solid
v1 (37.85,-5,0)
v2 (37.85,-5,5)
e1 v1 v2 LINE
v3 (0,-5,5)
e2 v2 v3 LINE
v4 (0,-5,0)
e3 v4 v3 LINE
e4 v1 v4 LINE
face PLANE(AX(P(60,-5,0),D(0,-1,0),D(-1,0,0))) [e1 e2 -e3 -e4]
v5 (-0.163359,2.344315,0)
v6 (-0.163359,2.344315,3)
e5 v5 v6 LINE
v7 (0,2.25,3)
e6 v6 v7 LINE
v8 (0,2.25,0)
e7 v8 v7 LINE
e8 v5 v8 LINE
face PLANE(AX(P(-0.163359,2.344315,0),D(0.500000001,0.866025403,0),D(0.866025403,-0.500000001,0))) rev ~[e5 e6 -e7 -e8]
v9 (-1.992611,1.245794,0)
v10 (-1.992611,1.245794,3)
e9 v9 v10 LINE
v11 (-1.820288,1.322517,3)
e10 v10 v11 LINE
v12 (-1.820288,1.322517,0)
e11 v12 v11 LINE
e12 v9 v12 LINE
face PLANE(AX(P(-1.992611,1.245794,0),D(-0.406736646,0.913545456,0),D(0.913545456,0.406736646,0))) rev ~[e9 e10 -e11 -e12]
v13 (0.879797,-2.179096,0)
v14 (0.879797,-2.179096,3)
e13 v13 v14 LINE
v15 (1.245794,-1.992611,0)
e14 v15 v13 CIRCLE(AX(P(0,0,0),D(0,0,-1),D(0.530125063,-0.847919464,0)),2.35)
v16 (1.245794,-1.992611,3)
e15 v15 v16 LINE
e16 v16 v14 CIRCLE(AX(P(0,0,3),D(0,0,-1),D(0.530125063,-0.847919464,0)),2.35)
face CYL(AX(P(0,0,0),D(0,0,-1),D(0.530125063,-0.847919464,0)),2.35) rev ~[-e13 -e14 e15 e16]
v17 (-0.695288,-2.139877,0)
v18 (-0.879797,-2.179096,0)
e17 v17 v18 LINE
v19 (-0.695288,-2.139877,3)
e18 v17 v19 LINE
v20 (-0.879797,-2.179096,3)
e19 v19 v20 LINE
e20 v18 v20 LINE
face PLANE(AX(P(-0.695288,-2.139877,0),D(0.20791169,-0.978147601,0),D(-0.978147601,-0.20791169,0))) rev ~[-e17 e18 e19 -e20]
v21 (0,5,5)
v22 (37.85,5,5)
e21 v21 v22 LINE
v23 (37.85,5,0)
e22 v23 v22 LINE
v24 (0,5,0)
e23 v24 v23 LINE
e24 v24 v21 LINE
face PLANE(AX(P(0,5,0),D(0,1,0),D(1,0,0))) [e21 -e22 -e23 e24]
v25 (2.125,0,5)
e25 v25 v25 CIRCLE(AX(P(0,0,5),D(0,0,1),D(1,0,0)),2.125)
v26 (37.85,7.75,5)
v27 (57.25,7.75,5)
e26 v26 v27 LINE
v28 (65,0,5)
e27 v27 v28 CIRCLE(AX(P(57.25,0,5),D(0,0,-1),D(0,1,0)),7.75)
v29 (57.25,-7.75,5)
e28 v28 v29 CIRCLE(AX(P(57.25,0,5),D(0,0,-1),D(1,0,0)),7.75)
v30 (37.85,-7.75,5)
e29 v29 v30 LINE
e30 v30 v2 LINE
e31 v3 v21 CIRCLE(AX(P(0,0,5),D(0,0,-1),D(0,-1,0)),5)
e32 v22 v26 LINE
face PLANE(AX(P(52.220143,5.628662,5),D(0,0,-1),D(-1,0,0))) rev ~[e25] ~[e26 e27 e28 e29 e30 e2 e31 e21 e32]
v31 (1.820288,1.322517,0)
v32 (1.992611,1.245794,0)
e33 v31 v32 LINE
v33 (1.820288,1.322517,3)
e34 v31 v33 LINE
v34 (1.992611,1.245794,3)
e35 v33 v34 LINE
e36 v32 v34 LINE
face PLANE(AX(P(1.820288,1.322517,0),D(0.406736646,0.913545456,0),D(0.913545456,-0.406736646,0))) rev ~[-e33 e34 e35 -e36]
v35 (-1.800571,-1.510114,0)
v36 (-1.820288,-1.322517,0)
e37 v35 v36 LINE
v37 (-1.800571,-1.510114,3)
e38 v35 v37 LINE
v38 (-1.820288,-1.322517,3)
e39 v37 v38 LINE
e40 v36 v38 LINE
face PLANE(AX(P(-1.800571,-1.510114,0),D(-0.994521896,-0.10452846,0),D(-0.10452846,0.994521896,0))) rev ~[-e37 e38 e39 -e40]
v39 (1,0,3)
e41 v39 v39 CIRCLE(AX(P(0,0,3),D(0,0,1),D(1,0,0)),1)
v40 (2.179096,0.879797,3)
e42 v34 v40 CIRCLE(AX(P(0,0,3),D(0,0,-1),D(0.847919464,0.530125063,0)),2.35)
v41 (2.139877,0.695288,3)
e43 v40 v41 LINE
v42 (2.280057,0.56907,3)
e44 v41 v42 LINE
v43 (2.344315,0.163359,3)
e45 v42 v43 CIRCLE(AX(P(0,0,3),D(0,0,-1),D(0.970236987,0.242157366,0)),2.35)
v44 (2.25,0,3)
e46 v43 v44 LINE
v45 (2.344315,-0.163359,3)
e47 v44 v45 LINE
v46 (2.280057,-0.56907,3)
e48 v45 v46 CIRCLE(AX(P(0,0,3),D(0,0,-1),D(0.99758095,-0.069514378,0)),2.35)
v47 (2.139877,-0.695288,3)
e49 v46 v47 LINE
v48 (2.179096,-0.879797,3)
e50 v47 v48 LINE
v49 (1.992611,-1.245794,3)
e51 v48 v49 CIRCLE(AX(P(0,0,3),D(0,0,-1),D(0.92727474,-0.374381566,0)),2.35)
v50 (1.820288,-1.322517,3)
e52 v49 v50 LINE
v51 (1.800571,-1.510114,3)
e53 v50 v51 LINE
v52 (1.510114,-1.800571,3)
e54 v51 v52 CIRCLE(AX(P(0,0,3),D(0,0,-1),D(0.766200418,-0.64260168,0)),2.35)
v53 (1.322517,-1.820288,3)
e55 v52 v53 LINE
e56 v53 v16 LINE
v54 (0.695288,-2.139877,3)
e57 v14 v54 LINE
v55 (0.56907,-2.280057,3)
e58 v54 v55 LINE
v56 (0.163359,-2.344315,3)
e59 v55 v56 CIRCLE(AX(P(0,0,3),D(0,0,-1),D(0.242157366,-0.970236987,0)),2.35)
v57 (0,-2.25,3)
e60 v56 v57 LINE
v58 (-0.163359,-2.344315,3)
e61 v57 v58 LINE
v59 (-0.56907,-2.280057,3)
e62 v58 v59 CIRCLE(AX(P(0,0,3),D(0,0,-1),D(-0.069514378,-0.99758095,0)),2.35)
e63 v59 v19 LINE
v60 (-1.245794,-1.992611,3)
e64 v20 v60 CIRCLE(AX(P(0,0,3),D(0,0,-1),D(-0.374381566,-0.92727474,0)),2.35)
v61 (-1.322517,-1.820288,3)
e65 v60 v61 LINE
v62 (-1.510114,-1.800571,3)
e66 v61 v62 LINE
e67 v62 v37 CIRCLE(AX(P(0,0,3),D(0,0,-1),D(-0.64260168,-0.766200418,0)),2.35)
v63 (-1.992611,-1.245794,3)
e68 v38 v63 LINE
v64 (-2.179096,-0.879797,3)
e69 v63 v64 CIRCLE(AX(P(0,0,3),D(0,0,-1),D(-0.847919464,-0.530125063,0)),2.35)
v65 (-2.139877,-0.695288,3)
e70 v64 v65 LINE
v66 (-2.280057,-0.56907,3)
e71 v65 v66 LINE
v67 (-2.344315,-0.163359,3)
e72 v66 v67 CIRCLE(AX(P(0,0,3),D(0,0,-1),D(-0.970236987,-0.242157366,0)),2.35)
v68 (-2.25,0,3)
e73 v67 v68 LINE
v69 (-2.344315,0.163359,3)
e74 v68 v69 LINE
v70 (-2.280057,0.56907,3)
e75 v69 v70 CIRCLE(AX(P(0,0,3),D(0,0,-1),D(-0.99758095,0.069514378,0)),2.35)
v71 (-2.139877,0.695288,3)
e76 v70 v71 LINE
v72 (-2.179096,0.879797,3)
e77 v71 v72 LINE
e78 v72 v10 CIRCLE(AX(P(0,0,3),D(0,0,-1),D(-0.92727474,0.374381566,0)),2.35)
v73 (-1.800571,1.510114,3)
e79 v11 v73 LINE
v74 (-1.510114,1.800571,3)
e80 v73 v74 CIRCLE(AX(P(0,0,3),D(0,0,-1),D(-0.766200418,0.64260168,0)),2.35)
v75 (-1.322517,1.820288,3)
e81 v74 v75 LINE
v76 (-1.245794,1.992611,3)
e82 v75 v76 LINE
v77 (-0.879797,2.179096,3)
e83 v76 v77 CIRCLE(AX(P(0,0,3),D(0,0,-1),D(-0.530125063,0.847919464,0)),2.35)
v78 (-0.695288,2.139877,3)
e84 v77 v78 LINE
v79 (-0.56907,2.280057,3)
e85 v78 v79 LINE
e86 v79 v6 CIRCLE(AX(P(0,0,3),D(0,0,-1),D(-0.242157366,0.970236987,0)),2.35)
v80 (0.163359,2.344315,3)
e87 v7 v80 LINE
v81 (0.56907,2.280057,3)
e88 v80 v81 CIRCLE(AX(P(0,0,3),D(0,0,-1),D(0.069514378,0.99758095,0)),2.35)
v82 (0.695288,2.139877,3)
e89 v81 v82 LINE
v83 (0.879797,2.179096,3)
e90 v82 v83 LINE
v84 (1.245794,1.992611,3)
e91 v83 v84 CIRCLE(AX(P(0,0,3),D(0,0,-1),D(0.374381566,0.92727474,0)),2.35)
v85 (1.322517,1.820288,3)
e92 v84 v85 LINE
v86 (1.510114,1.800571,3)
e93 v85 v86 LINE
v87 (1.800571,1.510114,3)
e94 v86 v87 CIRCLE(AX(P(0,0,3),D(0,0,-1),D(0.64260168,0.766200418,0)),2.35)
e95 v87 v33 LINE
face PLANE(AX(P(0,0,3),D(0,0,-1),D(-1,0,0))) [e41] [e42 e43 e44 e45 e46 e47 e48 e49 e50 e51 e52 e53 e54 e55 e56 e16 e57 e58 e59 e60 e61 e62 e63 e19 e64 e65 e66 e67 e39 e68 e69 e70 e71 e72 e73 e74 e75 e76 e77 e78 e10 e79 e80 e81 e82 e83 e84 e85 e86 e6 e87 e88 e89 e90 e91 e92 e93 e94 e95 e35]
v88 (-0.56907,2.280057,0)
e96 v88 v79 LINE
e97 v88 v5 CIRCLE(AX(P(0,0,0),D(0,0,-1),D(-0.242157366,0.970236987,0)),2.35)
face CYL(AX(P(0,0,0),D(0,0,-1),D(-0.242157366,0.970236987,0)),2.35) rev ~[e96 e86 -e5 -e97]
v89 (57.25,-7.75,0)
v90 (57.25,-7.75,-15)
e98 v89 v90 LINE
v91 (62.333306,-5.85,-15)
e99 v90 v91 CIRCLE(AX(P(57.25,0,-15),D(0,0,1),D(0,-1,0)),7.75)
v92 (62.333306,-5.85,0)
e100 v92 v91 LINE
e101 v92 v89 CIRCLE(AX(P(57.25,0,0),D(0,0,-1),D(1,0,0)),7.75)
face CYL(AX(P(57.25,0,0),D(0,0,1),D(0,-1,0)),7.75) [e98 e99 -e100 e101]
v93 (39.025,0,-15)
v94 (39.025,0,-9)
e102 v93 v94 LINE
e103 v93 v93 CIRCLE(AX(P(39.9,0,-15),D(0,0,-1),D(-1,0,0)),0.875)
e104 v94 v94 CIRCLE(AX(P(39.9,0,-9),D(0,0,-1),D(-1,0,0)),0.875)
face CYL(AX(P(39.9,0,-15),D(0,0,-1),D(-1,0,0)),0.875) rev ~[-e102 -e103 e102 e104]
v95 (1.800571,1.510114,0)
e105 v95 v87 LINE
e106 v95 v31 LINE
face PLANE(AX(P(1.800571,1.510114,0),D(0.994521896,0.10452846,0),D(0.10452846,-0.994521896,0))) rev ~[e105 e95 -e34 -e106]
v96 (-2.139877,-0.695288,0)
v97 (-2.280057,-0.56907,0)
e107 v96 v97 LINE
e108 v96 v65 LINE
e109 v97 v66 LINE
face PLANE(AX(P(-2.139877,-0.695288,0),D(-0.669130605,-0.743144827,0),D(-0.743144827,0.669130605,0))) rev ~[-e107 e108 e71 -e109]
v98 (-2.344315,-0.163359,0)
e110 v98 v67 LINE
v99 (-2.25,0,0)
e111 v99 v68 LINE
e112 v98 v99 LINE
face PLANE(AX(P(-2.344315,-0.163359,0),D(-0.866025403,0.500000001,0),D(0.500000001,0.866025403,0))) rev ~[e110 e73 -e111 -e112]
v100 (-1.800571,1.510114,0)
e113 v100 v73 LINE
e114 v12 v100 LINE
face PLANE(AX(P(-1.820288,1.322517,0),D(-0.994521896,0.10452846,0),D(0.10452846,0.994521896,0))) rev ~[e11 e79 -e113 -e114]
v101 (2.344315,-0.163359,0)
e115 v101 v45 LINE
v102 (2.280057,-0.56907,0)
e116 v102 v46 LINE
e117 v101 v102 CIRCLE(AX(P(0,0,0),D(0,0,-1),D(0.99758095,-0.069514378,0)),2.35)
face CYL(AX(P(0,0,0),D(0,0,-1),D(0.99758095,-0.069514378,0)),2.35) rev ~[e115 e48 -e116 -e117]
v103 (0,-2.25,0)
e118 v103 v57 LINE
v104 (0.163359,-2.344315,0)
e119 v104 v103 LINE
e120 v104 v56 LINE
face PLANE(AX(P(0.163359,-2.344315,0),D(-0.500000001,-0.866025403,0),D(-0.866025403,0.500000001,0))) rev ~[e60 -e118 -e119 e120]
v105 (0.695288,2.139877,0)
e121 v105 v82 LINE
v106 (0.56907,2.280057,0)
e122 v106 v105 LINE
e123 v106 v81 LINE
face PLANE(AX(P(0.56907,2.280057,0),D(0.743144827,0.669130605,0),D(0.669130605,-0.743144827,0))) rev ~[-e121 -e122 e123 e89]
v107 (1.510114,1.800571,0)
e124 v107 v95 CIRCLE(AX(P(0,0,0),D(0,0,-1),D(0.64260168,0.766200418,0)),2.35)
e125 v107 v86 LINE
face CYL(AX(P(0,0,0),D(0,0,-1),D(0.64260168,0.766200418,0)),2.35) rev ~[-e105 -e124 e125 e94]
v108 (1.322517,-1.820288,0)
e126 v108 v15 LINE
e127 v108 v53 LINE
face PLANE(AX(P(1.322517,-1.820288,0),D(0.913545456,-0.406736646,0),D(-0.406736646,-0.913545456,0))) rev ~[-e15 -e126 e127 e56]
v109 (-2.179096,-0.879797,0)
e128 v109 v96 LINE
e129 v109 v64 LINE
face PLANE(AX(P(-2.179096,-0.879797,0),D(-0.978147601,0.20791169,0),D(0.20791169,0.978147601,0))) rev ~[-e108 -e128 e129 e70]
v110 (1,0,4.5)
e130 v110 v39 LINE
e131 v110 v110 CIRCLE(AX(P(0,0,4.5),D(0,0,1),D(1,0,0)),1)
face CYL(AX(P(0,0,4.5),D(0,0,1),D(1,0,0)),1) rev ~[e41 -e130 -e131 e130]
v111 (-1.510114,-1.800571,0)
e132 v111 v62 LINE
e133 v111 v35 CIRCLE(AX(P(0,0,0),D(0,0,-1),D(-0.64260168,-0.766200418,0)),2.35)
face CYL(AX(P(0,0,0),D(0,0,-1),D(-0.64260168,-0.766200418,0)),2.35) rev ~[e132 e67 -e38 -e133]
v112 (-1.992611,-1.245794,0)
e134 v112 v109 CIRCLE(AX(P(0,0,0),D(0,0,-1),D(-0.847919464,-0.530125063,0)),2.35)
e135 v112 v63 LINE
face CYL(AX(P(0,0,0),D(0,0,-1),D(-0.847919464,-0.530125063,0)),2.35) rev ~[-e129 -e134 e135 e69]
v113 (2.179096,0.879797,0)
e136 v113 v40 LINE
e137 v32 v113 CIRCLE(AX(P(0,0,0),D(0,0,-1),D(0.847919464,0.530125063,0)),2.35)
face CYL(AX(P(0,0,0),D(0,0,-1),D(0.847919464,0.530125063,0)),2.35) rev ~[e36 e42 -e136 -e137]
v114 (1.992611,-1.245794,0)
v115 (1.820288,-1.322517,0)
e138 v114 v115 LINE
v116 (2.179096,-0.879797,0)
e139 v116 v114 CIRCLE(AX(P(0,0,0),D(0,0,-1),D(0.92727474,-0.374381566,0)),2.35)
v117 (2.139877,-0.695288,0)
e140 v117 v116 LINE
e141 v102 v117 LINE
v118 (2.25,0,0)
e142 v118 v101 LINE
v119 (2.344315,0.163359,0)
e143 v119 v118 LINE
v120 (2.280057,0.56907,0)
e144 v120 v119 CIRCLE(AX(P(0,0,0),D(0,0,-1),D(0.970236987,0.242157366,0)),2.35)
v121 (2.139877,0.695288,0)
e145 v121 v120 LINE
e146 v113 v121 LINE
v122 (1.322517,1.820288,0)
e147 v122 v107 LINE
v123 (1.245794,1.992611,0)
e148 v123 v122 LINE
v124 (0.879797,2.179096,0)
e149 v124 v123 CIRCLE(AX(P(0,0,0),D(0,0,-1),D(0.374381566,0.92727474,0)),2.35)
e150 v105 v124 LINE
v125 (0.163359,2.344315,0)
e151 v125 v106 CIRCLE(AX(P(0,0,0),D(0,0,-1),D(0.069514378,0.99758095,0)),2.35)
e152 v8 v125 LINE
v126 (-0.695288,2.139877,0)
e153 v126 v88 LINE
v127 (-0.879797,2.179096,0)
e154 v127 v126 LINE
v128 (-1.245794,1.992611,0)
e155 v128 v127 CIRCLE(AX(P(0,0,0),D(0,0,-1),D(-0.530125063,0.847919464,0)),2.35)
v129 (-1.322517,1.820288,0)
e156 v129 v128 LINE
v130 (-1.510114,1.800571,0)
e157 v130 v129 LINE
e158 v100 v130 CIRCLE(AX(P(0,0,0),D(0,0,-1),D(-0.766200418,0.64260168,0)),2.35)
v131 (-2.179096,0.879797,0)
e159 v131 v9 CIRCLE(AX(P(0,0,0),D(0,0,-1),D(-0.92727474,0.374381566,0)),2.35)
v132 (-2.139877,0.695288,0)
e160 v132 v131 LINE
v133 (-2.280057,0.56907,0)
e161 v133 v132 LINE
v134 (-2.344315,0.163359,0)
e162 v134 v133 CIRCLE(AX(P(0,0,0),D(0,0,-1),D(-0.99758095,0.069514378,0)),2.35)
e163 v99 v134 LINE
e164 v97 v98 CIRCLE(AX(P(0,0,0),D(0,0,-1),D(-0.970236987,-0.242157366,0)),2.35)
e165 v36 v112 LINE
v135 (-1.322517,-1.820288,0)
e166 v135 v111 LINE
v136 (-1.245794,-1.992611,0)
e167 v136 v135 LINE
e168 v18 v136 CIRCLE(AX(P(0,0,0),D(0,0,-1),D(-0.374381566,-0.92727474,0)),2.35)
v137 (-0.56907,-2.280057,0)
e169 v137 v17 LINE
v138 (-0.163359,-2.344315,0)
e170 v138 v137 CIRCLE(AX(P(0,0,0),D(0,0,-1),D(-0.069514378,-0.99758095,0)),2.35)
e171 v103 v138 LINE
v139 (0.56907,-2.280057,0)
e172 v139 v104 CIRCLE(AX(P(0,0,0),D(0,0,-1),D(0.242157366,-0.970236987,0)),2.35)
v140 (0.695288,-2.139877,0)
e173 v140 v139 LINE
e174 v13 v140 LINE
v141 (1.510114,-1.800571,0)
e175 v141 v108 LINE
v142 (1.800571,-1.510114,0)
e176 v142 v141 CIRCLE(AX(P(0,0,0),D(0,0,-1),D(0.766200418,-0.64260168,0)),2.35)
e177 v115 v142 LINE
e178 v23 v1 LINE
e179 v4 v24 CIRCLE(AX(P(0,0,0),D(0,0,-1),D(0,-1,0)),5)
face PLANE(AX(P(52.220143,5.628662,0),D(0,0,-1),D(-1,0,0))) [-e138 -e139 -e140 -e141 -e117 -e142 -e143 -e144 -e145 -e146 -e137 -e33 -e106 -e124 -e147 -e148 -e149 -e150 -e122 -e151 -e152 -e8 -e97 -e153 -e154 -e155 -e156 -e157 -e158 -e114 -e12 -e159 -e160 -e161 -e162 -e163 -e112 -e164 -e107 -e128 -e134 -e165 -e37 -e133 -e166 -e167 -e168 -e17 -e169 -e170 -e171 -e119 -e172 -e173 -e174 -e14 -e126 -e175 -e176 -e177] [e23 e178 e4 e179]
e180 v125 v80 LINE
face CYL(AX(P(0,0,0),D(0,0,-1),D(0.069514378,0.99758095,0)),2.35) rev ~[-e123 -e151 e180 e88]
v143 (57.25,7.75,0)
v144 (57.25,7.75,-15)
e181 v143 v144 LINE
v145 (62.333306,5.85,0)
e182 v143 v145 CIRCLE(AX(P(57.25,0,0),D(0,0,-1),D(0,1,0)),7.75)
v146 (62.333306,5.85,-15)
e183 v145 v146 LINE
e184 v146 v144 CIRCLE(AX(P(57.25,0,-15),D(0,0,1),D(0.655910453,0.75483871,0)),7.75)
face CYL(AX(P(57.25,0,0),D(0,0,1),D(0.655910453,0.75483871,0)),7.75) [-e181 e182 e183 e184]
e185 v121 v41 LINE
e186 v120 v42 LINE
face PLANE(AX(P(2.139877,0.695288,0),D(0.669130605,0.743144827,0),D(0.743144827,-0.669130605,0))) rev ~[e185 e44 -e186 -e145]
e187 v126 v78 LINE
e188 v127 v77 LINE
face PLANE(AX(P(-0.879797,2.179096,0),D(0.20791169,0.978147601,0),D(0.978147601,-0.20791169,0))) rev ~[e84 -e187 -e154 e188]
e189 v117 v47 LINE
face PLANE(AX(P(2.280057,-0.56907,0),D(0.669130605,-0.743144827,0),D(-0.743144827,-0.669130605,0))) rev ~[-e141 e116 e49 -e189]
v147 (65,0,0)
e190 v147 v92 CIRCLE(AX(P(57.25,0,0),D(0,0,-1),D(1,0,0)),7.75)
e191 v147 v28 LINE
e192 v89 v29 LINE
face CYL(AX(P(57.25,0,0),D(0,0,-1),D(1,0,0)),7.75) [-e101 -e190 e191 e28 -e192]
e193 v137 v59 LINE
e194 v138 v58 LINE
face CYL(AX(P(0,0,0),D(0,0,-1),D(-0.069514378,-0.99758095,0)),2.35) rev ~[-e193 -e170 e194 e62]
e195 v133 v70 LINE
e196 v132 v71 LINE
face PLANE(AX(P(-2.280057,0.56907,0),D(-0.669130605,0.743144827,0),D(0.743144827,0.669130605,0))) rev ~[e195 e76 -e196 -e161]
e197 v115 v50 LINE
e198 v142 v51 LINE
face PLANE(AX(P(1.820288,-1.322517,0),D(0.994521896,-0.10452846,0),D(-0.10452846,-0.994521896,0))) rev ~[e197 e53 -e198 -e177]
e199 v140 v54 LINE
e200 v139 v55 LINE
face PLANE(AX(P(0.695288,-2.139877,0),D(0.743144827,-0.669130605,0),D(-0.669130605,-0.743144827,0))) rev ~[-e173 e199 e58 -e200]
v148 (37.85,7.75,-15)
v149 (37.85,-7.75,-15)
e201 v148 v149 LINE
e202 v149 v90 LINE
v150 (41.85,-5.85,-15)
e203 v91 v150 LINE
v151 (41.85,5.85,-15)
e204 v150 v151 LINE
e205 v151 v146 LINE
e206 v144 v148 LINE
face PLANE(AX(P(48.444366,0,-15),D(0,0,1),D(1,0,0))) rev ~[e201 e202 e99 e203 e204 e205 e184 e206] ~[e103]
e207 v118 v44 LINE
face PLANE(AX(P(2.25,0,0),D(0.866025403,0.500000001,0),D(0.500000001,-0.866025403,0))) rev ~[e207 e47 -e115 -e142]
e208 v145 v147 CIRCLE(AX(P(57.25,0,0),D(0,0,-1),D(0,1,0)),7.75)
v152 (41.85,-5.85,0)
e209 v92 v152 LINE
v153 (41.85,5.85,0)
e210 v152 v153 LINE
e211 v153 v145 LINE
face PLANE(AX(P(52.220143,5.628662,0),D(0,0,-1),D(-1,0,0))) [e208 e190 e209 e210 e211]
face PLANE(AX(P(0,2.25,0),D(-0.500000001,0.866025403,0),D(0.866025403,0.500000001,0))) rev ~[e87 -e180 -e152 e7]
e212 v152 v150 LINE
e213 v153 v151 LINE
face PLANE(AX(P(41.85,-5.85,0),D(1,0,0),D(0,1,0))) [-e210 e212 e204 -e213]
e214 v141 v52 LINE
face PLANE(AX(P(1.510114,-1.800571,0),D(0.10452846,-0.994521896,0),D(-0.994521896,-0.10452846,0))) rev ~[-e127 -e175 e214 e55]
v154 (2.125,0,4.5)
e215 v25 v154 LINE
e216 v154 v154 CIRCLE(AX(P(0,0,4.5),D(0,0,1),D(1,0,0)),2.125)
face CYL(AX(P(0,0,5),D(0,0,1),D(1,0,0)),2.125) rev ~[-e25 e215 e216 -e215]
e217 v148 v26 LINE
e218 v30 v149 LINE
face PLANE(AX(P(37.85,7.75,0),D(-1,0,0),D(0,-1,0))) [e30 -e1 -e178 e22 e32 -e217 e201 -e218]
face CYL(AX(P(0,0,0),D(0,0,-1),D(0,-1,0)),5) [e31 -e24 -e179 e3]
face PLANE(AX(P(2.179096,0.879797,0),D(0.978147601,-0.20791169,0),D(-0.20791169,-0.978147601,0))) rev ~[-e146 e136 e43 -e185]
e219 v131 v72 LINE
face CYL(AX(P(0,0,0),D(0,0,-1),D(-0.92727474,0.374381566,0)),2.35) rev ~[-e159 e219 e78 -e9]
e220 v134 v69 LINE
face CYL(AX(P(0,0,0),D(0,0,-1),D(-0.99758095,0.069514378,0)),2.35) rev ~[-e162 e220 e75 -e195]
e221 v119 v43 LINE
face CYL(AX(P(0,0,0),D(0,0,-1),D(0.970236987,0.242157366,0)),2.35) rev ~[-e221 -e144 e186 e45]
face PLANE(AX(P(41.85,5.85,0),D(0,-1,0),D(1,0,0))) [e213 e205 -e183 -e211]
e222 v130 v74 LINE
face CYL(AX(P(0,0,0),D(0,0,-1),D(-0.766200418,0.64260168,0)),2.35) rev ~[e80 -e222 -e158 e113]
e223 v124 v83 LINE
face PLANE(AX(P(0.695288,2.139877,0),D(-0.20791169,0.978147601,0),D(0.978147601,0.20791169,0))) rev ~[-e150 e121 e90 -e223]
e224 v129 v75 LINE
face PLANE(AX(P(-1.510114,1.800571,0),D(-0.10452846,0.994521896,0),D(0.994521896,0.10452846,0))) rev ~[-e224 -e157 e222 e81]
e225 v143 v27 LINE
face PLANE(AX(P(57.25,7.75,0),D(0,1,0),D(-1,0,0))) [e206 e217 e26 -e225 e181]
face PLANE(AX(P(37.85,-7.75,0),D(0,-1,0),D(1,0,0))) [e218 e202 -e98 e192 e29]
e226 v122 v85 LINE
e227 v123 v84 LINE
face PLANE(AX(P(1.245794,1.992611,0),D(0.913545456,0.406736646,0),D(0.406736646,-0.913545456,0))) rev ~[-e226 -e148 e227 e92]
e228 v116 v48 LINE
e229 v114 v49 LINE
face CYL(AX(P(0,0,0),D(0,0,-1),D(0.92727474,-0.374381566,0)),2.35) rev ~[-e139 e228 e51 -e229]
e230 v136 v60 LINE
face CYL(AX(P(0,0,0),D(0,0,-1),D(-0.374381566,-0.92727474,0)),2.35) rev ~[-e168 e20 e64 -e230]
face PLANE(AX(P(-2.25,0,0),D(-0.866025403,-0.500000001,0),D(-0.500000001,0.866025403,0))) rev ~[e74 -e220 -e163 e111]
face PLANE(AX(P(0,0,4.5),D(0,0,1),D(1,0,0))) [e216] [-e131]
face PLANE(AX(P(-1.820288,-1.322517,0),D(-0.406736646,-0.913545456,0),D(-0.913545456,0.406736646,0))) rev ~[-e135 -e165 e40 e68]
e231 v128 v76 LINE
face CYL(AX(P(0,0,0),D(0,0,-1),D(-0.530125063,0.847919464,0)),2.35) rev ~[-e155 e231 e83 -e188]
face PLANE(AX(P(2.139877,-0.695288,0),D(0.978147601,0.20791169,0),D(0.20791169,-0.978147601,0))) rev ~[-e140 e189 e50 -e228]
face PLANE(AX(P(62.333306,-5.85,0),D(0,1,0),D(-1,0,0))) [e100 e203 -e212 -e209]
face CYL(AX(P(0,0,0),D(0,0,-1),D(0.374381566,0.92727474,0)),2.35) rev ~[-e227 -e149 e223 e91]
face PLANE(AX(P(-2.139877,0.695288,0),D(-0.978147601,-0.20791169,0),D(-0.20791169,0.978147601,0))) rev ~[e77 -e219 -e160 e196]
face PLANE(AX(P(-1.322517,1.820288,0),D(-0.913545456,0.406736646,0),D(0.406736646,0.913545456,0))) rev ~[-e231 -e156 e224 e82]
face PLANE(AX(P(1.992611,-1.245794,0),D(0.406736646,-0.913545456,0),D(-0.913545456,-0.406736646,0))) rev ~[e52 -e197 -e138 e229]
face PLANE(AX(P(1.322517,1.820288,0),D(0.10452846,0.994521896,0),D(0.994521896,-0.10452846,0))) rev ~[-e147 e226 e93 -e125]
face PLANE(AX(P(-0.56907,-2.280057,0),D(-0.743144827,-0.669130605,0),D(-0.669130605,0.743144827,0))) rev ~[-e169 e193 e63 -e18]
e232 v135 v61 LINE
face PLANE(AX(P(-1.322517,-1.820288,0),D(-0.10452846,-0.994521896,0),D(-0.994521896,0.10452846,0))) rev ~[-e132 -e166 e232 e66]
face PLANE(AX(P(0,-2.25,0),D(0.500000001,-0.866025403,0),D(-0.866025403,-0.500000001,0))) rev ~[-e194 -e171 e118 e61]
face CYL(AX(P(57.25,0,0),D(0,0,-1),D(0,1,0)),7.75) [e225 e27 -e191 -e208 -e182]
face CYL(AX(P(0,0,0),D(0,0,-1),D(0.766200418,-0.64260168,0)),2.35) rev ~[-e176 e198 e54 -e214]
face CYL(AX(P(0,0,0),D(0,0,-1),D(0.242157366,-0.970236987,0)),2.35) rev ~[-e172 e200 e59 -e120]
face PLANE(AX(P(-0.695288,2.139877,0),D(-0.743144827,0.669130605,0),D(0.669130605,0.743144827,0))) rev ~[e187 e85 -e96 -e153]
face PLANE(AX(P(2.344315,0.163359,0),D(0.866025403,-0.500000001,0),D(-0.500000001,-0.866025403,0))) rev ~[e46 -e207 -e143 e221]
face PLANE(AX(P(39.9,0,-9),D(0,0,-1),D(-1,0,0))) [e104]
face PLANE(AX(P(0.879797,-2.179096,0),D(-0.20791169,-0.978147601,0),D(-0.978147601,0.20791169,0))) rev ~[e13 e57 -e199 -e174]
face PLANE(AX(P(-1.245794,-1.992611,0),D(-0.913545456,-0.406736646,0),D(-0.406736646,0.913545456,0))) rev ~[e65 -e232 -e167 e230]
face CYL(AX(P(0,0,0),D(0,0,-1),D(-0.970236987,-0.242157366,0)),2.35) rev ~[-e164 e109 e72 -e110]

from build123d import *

# Parameters (mm, degrees)
BOSS_EXTRUDE1_DEPTH = 5
CUT_EXTRUDE1_DEPTH  = 3
SKETCH3_R           = 2.125
CUT_EXTRUDE2_DEPTH  = 0.5
SKETCH4_R           = 1
CUT_EXTRUDE3_DEPTH  = 5.5
BOSS_EXTRUDE2_DEPTH = 5
BOSS_EXTRUDE3_DEPTH = 15
SKETCH10_R          = 0.875
CUT_EXTRUDE6_DEPTH  = 6


with BuildPart() as part:
    # Sketch1 → Boss-Extrude1 (new body)
    with BuildSketch(Plane.XY):
        with BuildLine():
            Line((0, 5), (60, 5))
            ThreePointArc((60, 5), (65, 0), (60, -5))
            Line((60, -5), (0, -5))
            ThreePointArc((0, -5), (-5, 0), (0, 5))
        make_face()
    extrude(amount=BOSS_EXTRUDE1_DEPTH)

    # Sketch2 → Cut-Extrude1 (cut)
    with BuildSketch(Plane(origin=(0, 0, 0), x_dir=(-1, 0, 0), z_dir=(0, 0, -1))):
        with BuildLine():
            Line((2.344315233, -0.163358775), (2.25, 0))
            Line((2.25, 0), (2.344315233, 0.163358775))
            ThreePointArc((2.344315233, 0.163358775), (2.3210676, 0.367620993), (2.280056916, 0.56906982))
            Line((2.280056916, 0.56906982), (2.139877162, 0.695288237))
            Line((2.139877162, 0.695288237), (2.179095641, 0.879796675))
            ThreePointArc((2.179095641, 0.879796675), (2.093865332, 1.066877674), (1.992610742, 1.245793895))
            Line((1.992610742, 1.245793895), (1.820288237, 1.322516818))
            Line((1.820288237, 1.322516818), (1.800570985, 1.510113946))
            ThreePointArc((1.800570985, 1.510113946), (1.661700936, 1.661700936), (1.510113946, 1.800570985))
            Line((1.510113946, 1.800570985), (1.322516818, 1.820288237))
            Line((1.322516818, 1.820288237), (1.245793895, 1.992610742))
            ThreePointArc((1.245793895, 1.992610742), (1.066877674, 2.093865332), (0.879796675, 2.179095641))
            Line((0.879796675, 2.179095641), (0.695288237, 2.139877162))
            Line((0.695288237, 2.139877162), (0.56906982, 2.280056916))
            ThreePointArc((0.56906982, 2.280056916), (0.367620993, 2.3210676), (0.163358775, 2.344315233))
            Line((0.163358775, 2.344315233), (0, 2.25))
            Line((0, 2.25), (-0.163358775, 2.344315233))
            ThreePointArc((-0.163358775, 2.344315233), (-0.367620993, 2.3210676), (-0.56906982, 2.280056916))
            Line((-0.56906982, 2.280056916), (-0.695288237, 2.139877162))
            Line((-0.695288237, 2.139877162), (-0.879796675, 2.179095641))
            ThreePointArc((-0.879796675, 2.179095641), (-1.066877674, 2.093865332), (-1.245793895, 1.992610742))
            Line((-1.245793895, 1.992610742), (-1.322516818, 1.820288237))
            Line((-1.322516818, 1.820288237), (-1.510113946, 1.800570985))
            ThreePointArc((-1.510113946, 1.800570985), (-1.661700936, 1.661700936), (-1.800570985, 1.510113946))
            Line((-1.800570985, 1.510113946), (-1.820288237, 1.322516818))
            Line((-1.820288237, 1.322516818), (-1.992610742, 1.245793895))
            ThreePointArc((-1.992610742, 1.245793895), (-2.093865332, 1.066877674), (-2.179095641, 0.879796675))
            Line((-2.179095641, 0.879796675), (-2.139877162, 0.695288237))
            Line((-2.139877162, 0.695288237), (-2.280056916, 0.56906982))
            ThreePointArc((-2.280056916, 0.56906982), (-2.3210676, 0.367620993), (-2.344315233, 0.163358775))
            Line((-2.344315233, 0.163358775), (-2.25, 0))
            Line((-2.25, 0), (-2.344315233, -0.163358775))
            ThreePointArc((-2.344315233, -0.163358775), (-2.3210676, -0.367620993), (-2.280056916, -0.56906982))
            Line((-2.280056916, -0.56906982), (-2.139877162, -0.695288237))
            Line((-2.139877162, -0.695288237), (-2.179095641, -0.879796675))
            ThreePointArc((-2.179095641, -0.879796675), (-2.093865332, -1.066877674), (-1.992610742, -1.245793895))
            Line((-1.992610742, -1.245793895), (-1.820288237, -1.322516818))
            Line((-1.820288237, -1.322516818), (-1.800570985, -1.510113946))
            ThreePointArc((-1.800570985, -1.510113946), (-1.661700936, -1.661700936), (-1.510113946, -1.800570985))
            Line((-1.510113946, -1.800570985), (-1.322516818, -1.820288237))
            Line((-1.322516818, -1.820288237), (-1.245793895, -1.992610742))
            ThreePointArc((-1.245793895, -1.992610742), (-1.066877674, -2.093865332), (-0.879796675, -2.179095641))
            Line((-0.879796675, -2.179095641), (-0.695288237, -2.139877162))
            Line((-0.695288237, -2.139877162), (-0.56906982, -2.280056916))
            ThreePointArc((-0.56906982, -2.280056916), (-0.367620993, -2.3210676), (-0.163358775, -2.344315233))
            Line((-0.163358775, -2.344315233), (0, -2.25))
            Line((0, -2.25), (0.163358775, -2.344315233))
            ThreePointArc((0.163358775, -2.344315233), (0.367620993, -2.3210676), (0.56906982, -2.280056916))
            Line((0.56906982, -2.280056916), (0.695288237, -2.139877162))
            Line((0.695288237, -2.139877162), (0.879796675, -2.179095641))
            ThreePointArc((0.879796675, -2.179095641), (1.066877674, -2.093865332), (1.245793895, -1.992610742))
            Line((1.245793895, -1.992610742), (1.322516818, -1.820288237))
            Line((1.322516818, -1.820288237), (1.510113946, -1.800570985))
            ThreePointArc((1.510113946, -1.800570985), (1.661700936, -1.661700936), (1.800570985, -1.510113946))
            Line((1.800570985, -1.510113946), (1.820288237, -1.322516818))
            Line((1.820288237, -1.322516818), (1.992610742, -1.245793895))
            ThreePointArc((1.992610742, -1.245793895), (2.093865332, -1.066877674), (2.179095641, -0.879796675))
            Line((2.179095641, -0.879796675), (2.139877162, -0.695288237))
            Line((2.139877162, -0.695288237), (2.280056916, -0.56906982))
            ThreePointArc((2.280056916, -0.56906982), (2.3210676, -0.367620993), (2.344315233, -0.163358775))
        make_face()
    extrude(amount=-CUT_EXTRUDE1_DEPTH, mode=Mode.SUBTRACT)

    # Sketch3 → Cut-Extrude2 (cut)
    with BuildSketch(Plane.XY.offset(5)):
        Circle(SKETCH3_R)
    extrude(amount=-CUT_EXTRUDE2_DEPTH, mode=Mode.SUBTRACT)

    # Sketch4 → Cut-Extrude3 (cut, through all)
    with BuildSketch(Plane.XY.offset(4.5)):
        Circle(SKETCH4_R)
    extrude(amount=-CUT_EXTRUDE3_DEPTH, mode=Mode.SUBTRACT)

    # Sketch5 → Boss-Extrude2 (add)
    with BuildSketch(Plane(origin=(0, 0, 0), x_dir=(-1, 0, 0), z_dir=(0, 0, -1))):
        with BuildLine():
            Line((-60, 5), (-37.85, 5))
            Line((-37.85, 5), (-37.85, 7.75))
            Line((-37.85, 7.75), (-57.25, 7.75))
            ThreePointArc((-57.25, 7.75), (-62.730077554, 5.480077554), (-65, 0))
            ThreePointArc((-65, 0), (-63.535533906, 3.535533906), (-60, 5))
        make_face()
        with BuildLine():
            ThreePointArc((-60, -5), (-63.535533906, -3.535533906), (-65, 0))
            ThreePointArc((-65, 0), (-62.730077554, -5.480077554), (-57.25, -7.75))
            Line((-57.25, -7.75), (-37.85, -7.75))
            Line((-37.85, -7.75), (-37.85, -5))
            Line((-37.85, -5), (-60, -5))
        make_face()
    extrude(amount=-BOSS_EXTRUDE2_DEPTH)

    # Sketch6 → Boss-Extrude3 (add)
    with BuildSketch(Plane(origin=(0, 0, 0), x_dir=(-1, 0, 0), z_dir=(0, 0, -1))):
        with BuildLine():
            Line((-62.333306011, -5.85), (-41.85, -5.85))
            Line((-41.85, -5.85), (-41.85, 5.85))
            Line((-41.85, 5.85), (-62.333306011, 5.85))
            ThreePointArc((-62.333306011, 5.85), (-59.96339271, 7.259476565), (-57.25, 7.75))
            Line((-57.25, 7.75), (-37.85, 7.75))
            Line((-37.85, 7.75), (-37.85, 5))
            Line((-37.85, 5), (-37.85, -5))
            Line((-37.85, -5), (-37.85, -7.75))
            Line((-37.85, -7.75), (-57.25, -7.75))
            ThreePointArc((-57.25, -7.75), (-59.96339271, -7.259476565), (-62.333306011, -5.85))
        make_face()
    extrude(amount=BOSS_EXTRUDE3_DEPTH)

    # Sketch10 → Cut-Extrude6 (cut)
    with BuildSketch(Plane(origin=(0, 0, -15), x_dir=(-1, 0, 0), z_dir=(0, 0, -1))):
        with Locations((-39.9, 0)):
            Circle(SKETCH10_R)
    extrude(amount=-CUT_EXTRUDE6_DEPTH, mode=Mode.SUBTRACT)


solid = part.part
